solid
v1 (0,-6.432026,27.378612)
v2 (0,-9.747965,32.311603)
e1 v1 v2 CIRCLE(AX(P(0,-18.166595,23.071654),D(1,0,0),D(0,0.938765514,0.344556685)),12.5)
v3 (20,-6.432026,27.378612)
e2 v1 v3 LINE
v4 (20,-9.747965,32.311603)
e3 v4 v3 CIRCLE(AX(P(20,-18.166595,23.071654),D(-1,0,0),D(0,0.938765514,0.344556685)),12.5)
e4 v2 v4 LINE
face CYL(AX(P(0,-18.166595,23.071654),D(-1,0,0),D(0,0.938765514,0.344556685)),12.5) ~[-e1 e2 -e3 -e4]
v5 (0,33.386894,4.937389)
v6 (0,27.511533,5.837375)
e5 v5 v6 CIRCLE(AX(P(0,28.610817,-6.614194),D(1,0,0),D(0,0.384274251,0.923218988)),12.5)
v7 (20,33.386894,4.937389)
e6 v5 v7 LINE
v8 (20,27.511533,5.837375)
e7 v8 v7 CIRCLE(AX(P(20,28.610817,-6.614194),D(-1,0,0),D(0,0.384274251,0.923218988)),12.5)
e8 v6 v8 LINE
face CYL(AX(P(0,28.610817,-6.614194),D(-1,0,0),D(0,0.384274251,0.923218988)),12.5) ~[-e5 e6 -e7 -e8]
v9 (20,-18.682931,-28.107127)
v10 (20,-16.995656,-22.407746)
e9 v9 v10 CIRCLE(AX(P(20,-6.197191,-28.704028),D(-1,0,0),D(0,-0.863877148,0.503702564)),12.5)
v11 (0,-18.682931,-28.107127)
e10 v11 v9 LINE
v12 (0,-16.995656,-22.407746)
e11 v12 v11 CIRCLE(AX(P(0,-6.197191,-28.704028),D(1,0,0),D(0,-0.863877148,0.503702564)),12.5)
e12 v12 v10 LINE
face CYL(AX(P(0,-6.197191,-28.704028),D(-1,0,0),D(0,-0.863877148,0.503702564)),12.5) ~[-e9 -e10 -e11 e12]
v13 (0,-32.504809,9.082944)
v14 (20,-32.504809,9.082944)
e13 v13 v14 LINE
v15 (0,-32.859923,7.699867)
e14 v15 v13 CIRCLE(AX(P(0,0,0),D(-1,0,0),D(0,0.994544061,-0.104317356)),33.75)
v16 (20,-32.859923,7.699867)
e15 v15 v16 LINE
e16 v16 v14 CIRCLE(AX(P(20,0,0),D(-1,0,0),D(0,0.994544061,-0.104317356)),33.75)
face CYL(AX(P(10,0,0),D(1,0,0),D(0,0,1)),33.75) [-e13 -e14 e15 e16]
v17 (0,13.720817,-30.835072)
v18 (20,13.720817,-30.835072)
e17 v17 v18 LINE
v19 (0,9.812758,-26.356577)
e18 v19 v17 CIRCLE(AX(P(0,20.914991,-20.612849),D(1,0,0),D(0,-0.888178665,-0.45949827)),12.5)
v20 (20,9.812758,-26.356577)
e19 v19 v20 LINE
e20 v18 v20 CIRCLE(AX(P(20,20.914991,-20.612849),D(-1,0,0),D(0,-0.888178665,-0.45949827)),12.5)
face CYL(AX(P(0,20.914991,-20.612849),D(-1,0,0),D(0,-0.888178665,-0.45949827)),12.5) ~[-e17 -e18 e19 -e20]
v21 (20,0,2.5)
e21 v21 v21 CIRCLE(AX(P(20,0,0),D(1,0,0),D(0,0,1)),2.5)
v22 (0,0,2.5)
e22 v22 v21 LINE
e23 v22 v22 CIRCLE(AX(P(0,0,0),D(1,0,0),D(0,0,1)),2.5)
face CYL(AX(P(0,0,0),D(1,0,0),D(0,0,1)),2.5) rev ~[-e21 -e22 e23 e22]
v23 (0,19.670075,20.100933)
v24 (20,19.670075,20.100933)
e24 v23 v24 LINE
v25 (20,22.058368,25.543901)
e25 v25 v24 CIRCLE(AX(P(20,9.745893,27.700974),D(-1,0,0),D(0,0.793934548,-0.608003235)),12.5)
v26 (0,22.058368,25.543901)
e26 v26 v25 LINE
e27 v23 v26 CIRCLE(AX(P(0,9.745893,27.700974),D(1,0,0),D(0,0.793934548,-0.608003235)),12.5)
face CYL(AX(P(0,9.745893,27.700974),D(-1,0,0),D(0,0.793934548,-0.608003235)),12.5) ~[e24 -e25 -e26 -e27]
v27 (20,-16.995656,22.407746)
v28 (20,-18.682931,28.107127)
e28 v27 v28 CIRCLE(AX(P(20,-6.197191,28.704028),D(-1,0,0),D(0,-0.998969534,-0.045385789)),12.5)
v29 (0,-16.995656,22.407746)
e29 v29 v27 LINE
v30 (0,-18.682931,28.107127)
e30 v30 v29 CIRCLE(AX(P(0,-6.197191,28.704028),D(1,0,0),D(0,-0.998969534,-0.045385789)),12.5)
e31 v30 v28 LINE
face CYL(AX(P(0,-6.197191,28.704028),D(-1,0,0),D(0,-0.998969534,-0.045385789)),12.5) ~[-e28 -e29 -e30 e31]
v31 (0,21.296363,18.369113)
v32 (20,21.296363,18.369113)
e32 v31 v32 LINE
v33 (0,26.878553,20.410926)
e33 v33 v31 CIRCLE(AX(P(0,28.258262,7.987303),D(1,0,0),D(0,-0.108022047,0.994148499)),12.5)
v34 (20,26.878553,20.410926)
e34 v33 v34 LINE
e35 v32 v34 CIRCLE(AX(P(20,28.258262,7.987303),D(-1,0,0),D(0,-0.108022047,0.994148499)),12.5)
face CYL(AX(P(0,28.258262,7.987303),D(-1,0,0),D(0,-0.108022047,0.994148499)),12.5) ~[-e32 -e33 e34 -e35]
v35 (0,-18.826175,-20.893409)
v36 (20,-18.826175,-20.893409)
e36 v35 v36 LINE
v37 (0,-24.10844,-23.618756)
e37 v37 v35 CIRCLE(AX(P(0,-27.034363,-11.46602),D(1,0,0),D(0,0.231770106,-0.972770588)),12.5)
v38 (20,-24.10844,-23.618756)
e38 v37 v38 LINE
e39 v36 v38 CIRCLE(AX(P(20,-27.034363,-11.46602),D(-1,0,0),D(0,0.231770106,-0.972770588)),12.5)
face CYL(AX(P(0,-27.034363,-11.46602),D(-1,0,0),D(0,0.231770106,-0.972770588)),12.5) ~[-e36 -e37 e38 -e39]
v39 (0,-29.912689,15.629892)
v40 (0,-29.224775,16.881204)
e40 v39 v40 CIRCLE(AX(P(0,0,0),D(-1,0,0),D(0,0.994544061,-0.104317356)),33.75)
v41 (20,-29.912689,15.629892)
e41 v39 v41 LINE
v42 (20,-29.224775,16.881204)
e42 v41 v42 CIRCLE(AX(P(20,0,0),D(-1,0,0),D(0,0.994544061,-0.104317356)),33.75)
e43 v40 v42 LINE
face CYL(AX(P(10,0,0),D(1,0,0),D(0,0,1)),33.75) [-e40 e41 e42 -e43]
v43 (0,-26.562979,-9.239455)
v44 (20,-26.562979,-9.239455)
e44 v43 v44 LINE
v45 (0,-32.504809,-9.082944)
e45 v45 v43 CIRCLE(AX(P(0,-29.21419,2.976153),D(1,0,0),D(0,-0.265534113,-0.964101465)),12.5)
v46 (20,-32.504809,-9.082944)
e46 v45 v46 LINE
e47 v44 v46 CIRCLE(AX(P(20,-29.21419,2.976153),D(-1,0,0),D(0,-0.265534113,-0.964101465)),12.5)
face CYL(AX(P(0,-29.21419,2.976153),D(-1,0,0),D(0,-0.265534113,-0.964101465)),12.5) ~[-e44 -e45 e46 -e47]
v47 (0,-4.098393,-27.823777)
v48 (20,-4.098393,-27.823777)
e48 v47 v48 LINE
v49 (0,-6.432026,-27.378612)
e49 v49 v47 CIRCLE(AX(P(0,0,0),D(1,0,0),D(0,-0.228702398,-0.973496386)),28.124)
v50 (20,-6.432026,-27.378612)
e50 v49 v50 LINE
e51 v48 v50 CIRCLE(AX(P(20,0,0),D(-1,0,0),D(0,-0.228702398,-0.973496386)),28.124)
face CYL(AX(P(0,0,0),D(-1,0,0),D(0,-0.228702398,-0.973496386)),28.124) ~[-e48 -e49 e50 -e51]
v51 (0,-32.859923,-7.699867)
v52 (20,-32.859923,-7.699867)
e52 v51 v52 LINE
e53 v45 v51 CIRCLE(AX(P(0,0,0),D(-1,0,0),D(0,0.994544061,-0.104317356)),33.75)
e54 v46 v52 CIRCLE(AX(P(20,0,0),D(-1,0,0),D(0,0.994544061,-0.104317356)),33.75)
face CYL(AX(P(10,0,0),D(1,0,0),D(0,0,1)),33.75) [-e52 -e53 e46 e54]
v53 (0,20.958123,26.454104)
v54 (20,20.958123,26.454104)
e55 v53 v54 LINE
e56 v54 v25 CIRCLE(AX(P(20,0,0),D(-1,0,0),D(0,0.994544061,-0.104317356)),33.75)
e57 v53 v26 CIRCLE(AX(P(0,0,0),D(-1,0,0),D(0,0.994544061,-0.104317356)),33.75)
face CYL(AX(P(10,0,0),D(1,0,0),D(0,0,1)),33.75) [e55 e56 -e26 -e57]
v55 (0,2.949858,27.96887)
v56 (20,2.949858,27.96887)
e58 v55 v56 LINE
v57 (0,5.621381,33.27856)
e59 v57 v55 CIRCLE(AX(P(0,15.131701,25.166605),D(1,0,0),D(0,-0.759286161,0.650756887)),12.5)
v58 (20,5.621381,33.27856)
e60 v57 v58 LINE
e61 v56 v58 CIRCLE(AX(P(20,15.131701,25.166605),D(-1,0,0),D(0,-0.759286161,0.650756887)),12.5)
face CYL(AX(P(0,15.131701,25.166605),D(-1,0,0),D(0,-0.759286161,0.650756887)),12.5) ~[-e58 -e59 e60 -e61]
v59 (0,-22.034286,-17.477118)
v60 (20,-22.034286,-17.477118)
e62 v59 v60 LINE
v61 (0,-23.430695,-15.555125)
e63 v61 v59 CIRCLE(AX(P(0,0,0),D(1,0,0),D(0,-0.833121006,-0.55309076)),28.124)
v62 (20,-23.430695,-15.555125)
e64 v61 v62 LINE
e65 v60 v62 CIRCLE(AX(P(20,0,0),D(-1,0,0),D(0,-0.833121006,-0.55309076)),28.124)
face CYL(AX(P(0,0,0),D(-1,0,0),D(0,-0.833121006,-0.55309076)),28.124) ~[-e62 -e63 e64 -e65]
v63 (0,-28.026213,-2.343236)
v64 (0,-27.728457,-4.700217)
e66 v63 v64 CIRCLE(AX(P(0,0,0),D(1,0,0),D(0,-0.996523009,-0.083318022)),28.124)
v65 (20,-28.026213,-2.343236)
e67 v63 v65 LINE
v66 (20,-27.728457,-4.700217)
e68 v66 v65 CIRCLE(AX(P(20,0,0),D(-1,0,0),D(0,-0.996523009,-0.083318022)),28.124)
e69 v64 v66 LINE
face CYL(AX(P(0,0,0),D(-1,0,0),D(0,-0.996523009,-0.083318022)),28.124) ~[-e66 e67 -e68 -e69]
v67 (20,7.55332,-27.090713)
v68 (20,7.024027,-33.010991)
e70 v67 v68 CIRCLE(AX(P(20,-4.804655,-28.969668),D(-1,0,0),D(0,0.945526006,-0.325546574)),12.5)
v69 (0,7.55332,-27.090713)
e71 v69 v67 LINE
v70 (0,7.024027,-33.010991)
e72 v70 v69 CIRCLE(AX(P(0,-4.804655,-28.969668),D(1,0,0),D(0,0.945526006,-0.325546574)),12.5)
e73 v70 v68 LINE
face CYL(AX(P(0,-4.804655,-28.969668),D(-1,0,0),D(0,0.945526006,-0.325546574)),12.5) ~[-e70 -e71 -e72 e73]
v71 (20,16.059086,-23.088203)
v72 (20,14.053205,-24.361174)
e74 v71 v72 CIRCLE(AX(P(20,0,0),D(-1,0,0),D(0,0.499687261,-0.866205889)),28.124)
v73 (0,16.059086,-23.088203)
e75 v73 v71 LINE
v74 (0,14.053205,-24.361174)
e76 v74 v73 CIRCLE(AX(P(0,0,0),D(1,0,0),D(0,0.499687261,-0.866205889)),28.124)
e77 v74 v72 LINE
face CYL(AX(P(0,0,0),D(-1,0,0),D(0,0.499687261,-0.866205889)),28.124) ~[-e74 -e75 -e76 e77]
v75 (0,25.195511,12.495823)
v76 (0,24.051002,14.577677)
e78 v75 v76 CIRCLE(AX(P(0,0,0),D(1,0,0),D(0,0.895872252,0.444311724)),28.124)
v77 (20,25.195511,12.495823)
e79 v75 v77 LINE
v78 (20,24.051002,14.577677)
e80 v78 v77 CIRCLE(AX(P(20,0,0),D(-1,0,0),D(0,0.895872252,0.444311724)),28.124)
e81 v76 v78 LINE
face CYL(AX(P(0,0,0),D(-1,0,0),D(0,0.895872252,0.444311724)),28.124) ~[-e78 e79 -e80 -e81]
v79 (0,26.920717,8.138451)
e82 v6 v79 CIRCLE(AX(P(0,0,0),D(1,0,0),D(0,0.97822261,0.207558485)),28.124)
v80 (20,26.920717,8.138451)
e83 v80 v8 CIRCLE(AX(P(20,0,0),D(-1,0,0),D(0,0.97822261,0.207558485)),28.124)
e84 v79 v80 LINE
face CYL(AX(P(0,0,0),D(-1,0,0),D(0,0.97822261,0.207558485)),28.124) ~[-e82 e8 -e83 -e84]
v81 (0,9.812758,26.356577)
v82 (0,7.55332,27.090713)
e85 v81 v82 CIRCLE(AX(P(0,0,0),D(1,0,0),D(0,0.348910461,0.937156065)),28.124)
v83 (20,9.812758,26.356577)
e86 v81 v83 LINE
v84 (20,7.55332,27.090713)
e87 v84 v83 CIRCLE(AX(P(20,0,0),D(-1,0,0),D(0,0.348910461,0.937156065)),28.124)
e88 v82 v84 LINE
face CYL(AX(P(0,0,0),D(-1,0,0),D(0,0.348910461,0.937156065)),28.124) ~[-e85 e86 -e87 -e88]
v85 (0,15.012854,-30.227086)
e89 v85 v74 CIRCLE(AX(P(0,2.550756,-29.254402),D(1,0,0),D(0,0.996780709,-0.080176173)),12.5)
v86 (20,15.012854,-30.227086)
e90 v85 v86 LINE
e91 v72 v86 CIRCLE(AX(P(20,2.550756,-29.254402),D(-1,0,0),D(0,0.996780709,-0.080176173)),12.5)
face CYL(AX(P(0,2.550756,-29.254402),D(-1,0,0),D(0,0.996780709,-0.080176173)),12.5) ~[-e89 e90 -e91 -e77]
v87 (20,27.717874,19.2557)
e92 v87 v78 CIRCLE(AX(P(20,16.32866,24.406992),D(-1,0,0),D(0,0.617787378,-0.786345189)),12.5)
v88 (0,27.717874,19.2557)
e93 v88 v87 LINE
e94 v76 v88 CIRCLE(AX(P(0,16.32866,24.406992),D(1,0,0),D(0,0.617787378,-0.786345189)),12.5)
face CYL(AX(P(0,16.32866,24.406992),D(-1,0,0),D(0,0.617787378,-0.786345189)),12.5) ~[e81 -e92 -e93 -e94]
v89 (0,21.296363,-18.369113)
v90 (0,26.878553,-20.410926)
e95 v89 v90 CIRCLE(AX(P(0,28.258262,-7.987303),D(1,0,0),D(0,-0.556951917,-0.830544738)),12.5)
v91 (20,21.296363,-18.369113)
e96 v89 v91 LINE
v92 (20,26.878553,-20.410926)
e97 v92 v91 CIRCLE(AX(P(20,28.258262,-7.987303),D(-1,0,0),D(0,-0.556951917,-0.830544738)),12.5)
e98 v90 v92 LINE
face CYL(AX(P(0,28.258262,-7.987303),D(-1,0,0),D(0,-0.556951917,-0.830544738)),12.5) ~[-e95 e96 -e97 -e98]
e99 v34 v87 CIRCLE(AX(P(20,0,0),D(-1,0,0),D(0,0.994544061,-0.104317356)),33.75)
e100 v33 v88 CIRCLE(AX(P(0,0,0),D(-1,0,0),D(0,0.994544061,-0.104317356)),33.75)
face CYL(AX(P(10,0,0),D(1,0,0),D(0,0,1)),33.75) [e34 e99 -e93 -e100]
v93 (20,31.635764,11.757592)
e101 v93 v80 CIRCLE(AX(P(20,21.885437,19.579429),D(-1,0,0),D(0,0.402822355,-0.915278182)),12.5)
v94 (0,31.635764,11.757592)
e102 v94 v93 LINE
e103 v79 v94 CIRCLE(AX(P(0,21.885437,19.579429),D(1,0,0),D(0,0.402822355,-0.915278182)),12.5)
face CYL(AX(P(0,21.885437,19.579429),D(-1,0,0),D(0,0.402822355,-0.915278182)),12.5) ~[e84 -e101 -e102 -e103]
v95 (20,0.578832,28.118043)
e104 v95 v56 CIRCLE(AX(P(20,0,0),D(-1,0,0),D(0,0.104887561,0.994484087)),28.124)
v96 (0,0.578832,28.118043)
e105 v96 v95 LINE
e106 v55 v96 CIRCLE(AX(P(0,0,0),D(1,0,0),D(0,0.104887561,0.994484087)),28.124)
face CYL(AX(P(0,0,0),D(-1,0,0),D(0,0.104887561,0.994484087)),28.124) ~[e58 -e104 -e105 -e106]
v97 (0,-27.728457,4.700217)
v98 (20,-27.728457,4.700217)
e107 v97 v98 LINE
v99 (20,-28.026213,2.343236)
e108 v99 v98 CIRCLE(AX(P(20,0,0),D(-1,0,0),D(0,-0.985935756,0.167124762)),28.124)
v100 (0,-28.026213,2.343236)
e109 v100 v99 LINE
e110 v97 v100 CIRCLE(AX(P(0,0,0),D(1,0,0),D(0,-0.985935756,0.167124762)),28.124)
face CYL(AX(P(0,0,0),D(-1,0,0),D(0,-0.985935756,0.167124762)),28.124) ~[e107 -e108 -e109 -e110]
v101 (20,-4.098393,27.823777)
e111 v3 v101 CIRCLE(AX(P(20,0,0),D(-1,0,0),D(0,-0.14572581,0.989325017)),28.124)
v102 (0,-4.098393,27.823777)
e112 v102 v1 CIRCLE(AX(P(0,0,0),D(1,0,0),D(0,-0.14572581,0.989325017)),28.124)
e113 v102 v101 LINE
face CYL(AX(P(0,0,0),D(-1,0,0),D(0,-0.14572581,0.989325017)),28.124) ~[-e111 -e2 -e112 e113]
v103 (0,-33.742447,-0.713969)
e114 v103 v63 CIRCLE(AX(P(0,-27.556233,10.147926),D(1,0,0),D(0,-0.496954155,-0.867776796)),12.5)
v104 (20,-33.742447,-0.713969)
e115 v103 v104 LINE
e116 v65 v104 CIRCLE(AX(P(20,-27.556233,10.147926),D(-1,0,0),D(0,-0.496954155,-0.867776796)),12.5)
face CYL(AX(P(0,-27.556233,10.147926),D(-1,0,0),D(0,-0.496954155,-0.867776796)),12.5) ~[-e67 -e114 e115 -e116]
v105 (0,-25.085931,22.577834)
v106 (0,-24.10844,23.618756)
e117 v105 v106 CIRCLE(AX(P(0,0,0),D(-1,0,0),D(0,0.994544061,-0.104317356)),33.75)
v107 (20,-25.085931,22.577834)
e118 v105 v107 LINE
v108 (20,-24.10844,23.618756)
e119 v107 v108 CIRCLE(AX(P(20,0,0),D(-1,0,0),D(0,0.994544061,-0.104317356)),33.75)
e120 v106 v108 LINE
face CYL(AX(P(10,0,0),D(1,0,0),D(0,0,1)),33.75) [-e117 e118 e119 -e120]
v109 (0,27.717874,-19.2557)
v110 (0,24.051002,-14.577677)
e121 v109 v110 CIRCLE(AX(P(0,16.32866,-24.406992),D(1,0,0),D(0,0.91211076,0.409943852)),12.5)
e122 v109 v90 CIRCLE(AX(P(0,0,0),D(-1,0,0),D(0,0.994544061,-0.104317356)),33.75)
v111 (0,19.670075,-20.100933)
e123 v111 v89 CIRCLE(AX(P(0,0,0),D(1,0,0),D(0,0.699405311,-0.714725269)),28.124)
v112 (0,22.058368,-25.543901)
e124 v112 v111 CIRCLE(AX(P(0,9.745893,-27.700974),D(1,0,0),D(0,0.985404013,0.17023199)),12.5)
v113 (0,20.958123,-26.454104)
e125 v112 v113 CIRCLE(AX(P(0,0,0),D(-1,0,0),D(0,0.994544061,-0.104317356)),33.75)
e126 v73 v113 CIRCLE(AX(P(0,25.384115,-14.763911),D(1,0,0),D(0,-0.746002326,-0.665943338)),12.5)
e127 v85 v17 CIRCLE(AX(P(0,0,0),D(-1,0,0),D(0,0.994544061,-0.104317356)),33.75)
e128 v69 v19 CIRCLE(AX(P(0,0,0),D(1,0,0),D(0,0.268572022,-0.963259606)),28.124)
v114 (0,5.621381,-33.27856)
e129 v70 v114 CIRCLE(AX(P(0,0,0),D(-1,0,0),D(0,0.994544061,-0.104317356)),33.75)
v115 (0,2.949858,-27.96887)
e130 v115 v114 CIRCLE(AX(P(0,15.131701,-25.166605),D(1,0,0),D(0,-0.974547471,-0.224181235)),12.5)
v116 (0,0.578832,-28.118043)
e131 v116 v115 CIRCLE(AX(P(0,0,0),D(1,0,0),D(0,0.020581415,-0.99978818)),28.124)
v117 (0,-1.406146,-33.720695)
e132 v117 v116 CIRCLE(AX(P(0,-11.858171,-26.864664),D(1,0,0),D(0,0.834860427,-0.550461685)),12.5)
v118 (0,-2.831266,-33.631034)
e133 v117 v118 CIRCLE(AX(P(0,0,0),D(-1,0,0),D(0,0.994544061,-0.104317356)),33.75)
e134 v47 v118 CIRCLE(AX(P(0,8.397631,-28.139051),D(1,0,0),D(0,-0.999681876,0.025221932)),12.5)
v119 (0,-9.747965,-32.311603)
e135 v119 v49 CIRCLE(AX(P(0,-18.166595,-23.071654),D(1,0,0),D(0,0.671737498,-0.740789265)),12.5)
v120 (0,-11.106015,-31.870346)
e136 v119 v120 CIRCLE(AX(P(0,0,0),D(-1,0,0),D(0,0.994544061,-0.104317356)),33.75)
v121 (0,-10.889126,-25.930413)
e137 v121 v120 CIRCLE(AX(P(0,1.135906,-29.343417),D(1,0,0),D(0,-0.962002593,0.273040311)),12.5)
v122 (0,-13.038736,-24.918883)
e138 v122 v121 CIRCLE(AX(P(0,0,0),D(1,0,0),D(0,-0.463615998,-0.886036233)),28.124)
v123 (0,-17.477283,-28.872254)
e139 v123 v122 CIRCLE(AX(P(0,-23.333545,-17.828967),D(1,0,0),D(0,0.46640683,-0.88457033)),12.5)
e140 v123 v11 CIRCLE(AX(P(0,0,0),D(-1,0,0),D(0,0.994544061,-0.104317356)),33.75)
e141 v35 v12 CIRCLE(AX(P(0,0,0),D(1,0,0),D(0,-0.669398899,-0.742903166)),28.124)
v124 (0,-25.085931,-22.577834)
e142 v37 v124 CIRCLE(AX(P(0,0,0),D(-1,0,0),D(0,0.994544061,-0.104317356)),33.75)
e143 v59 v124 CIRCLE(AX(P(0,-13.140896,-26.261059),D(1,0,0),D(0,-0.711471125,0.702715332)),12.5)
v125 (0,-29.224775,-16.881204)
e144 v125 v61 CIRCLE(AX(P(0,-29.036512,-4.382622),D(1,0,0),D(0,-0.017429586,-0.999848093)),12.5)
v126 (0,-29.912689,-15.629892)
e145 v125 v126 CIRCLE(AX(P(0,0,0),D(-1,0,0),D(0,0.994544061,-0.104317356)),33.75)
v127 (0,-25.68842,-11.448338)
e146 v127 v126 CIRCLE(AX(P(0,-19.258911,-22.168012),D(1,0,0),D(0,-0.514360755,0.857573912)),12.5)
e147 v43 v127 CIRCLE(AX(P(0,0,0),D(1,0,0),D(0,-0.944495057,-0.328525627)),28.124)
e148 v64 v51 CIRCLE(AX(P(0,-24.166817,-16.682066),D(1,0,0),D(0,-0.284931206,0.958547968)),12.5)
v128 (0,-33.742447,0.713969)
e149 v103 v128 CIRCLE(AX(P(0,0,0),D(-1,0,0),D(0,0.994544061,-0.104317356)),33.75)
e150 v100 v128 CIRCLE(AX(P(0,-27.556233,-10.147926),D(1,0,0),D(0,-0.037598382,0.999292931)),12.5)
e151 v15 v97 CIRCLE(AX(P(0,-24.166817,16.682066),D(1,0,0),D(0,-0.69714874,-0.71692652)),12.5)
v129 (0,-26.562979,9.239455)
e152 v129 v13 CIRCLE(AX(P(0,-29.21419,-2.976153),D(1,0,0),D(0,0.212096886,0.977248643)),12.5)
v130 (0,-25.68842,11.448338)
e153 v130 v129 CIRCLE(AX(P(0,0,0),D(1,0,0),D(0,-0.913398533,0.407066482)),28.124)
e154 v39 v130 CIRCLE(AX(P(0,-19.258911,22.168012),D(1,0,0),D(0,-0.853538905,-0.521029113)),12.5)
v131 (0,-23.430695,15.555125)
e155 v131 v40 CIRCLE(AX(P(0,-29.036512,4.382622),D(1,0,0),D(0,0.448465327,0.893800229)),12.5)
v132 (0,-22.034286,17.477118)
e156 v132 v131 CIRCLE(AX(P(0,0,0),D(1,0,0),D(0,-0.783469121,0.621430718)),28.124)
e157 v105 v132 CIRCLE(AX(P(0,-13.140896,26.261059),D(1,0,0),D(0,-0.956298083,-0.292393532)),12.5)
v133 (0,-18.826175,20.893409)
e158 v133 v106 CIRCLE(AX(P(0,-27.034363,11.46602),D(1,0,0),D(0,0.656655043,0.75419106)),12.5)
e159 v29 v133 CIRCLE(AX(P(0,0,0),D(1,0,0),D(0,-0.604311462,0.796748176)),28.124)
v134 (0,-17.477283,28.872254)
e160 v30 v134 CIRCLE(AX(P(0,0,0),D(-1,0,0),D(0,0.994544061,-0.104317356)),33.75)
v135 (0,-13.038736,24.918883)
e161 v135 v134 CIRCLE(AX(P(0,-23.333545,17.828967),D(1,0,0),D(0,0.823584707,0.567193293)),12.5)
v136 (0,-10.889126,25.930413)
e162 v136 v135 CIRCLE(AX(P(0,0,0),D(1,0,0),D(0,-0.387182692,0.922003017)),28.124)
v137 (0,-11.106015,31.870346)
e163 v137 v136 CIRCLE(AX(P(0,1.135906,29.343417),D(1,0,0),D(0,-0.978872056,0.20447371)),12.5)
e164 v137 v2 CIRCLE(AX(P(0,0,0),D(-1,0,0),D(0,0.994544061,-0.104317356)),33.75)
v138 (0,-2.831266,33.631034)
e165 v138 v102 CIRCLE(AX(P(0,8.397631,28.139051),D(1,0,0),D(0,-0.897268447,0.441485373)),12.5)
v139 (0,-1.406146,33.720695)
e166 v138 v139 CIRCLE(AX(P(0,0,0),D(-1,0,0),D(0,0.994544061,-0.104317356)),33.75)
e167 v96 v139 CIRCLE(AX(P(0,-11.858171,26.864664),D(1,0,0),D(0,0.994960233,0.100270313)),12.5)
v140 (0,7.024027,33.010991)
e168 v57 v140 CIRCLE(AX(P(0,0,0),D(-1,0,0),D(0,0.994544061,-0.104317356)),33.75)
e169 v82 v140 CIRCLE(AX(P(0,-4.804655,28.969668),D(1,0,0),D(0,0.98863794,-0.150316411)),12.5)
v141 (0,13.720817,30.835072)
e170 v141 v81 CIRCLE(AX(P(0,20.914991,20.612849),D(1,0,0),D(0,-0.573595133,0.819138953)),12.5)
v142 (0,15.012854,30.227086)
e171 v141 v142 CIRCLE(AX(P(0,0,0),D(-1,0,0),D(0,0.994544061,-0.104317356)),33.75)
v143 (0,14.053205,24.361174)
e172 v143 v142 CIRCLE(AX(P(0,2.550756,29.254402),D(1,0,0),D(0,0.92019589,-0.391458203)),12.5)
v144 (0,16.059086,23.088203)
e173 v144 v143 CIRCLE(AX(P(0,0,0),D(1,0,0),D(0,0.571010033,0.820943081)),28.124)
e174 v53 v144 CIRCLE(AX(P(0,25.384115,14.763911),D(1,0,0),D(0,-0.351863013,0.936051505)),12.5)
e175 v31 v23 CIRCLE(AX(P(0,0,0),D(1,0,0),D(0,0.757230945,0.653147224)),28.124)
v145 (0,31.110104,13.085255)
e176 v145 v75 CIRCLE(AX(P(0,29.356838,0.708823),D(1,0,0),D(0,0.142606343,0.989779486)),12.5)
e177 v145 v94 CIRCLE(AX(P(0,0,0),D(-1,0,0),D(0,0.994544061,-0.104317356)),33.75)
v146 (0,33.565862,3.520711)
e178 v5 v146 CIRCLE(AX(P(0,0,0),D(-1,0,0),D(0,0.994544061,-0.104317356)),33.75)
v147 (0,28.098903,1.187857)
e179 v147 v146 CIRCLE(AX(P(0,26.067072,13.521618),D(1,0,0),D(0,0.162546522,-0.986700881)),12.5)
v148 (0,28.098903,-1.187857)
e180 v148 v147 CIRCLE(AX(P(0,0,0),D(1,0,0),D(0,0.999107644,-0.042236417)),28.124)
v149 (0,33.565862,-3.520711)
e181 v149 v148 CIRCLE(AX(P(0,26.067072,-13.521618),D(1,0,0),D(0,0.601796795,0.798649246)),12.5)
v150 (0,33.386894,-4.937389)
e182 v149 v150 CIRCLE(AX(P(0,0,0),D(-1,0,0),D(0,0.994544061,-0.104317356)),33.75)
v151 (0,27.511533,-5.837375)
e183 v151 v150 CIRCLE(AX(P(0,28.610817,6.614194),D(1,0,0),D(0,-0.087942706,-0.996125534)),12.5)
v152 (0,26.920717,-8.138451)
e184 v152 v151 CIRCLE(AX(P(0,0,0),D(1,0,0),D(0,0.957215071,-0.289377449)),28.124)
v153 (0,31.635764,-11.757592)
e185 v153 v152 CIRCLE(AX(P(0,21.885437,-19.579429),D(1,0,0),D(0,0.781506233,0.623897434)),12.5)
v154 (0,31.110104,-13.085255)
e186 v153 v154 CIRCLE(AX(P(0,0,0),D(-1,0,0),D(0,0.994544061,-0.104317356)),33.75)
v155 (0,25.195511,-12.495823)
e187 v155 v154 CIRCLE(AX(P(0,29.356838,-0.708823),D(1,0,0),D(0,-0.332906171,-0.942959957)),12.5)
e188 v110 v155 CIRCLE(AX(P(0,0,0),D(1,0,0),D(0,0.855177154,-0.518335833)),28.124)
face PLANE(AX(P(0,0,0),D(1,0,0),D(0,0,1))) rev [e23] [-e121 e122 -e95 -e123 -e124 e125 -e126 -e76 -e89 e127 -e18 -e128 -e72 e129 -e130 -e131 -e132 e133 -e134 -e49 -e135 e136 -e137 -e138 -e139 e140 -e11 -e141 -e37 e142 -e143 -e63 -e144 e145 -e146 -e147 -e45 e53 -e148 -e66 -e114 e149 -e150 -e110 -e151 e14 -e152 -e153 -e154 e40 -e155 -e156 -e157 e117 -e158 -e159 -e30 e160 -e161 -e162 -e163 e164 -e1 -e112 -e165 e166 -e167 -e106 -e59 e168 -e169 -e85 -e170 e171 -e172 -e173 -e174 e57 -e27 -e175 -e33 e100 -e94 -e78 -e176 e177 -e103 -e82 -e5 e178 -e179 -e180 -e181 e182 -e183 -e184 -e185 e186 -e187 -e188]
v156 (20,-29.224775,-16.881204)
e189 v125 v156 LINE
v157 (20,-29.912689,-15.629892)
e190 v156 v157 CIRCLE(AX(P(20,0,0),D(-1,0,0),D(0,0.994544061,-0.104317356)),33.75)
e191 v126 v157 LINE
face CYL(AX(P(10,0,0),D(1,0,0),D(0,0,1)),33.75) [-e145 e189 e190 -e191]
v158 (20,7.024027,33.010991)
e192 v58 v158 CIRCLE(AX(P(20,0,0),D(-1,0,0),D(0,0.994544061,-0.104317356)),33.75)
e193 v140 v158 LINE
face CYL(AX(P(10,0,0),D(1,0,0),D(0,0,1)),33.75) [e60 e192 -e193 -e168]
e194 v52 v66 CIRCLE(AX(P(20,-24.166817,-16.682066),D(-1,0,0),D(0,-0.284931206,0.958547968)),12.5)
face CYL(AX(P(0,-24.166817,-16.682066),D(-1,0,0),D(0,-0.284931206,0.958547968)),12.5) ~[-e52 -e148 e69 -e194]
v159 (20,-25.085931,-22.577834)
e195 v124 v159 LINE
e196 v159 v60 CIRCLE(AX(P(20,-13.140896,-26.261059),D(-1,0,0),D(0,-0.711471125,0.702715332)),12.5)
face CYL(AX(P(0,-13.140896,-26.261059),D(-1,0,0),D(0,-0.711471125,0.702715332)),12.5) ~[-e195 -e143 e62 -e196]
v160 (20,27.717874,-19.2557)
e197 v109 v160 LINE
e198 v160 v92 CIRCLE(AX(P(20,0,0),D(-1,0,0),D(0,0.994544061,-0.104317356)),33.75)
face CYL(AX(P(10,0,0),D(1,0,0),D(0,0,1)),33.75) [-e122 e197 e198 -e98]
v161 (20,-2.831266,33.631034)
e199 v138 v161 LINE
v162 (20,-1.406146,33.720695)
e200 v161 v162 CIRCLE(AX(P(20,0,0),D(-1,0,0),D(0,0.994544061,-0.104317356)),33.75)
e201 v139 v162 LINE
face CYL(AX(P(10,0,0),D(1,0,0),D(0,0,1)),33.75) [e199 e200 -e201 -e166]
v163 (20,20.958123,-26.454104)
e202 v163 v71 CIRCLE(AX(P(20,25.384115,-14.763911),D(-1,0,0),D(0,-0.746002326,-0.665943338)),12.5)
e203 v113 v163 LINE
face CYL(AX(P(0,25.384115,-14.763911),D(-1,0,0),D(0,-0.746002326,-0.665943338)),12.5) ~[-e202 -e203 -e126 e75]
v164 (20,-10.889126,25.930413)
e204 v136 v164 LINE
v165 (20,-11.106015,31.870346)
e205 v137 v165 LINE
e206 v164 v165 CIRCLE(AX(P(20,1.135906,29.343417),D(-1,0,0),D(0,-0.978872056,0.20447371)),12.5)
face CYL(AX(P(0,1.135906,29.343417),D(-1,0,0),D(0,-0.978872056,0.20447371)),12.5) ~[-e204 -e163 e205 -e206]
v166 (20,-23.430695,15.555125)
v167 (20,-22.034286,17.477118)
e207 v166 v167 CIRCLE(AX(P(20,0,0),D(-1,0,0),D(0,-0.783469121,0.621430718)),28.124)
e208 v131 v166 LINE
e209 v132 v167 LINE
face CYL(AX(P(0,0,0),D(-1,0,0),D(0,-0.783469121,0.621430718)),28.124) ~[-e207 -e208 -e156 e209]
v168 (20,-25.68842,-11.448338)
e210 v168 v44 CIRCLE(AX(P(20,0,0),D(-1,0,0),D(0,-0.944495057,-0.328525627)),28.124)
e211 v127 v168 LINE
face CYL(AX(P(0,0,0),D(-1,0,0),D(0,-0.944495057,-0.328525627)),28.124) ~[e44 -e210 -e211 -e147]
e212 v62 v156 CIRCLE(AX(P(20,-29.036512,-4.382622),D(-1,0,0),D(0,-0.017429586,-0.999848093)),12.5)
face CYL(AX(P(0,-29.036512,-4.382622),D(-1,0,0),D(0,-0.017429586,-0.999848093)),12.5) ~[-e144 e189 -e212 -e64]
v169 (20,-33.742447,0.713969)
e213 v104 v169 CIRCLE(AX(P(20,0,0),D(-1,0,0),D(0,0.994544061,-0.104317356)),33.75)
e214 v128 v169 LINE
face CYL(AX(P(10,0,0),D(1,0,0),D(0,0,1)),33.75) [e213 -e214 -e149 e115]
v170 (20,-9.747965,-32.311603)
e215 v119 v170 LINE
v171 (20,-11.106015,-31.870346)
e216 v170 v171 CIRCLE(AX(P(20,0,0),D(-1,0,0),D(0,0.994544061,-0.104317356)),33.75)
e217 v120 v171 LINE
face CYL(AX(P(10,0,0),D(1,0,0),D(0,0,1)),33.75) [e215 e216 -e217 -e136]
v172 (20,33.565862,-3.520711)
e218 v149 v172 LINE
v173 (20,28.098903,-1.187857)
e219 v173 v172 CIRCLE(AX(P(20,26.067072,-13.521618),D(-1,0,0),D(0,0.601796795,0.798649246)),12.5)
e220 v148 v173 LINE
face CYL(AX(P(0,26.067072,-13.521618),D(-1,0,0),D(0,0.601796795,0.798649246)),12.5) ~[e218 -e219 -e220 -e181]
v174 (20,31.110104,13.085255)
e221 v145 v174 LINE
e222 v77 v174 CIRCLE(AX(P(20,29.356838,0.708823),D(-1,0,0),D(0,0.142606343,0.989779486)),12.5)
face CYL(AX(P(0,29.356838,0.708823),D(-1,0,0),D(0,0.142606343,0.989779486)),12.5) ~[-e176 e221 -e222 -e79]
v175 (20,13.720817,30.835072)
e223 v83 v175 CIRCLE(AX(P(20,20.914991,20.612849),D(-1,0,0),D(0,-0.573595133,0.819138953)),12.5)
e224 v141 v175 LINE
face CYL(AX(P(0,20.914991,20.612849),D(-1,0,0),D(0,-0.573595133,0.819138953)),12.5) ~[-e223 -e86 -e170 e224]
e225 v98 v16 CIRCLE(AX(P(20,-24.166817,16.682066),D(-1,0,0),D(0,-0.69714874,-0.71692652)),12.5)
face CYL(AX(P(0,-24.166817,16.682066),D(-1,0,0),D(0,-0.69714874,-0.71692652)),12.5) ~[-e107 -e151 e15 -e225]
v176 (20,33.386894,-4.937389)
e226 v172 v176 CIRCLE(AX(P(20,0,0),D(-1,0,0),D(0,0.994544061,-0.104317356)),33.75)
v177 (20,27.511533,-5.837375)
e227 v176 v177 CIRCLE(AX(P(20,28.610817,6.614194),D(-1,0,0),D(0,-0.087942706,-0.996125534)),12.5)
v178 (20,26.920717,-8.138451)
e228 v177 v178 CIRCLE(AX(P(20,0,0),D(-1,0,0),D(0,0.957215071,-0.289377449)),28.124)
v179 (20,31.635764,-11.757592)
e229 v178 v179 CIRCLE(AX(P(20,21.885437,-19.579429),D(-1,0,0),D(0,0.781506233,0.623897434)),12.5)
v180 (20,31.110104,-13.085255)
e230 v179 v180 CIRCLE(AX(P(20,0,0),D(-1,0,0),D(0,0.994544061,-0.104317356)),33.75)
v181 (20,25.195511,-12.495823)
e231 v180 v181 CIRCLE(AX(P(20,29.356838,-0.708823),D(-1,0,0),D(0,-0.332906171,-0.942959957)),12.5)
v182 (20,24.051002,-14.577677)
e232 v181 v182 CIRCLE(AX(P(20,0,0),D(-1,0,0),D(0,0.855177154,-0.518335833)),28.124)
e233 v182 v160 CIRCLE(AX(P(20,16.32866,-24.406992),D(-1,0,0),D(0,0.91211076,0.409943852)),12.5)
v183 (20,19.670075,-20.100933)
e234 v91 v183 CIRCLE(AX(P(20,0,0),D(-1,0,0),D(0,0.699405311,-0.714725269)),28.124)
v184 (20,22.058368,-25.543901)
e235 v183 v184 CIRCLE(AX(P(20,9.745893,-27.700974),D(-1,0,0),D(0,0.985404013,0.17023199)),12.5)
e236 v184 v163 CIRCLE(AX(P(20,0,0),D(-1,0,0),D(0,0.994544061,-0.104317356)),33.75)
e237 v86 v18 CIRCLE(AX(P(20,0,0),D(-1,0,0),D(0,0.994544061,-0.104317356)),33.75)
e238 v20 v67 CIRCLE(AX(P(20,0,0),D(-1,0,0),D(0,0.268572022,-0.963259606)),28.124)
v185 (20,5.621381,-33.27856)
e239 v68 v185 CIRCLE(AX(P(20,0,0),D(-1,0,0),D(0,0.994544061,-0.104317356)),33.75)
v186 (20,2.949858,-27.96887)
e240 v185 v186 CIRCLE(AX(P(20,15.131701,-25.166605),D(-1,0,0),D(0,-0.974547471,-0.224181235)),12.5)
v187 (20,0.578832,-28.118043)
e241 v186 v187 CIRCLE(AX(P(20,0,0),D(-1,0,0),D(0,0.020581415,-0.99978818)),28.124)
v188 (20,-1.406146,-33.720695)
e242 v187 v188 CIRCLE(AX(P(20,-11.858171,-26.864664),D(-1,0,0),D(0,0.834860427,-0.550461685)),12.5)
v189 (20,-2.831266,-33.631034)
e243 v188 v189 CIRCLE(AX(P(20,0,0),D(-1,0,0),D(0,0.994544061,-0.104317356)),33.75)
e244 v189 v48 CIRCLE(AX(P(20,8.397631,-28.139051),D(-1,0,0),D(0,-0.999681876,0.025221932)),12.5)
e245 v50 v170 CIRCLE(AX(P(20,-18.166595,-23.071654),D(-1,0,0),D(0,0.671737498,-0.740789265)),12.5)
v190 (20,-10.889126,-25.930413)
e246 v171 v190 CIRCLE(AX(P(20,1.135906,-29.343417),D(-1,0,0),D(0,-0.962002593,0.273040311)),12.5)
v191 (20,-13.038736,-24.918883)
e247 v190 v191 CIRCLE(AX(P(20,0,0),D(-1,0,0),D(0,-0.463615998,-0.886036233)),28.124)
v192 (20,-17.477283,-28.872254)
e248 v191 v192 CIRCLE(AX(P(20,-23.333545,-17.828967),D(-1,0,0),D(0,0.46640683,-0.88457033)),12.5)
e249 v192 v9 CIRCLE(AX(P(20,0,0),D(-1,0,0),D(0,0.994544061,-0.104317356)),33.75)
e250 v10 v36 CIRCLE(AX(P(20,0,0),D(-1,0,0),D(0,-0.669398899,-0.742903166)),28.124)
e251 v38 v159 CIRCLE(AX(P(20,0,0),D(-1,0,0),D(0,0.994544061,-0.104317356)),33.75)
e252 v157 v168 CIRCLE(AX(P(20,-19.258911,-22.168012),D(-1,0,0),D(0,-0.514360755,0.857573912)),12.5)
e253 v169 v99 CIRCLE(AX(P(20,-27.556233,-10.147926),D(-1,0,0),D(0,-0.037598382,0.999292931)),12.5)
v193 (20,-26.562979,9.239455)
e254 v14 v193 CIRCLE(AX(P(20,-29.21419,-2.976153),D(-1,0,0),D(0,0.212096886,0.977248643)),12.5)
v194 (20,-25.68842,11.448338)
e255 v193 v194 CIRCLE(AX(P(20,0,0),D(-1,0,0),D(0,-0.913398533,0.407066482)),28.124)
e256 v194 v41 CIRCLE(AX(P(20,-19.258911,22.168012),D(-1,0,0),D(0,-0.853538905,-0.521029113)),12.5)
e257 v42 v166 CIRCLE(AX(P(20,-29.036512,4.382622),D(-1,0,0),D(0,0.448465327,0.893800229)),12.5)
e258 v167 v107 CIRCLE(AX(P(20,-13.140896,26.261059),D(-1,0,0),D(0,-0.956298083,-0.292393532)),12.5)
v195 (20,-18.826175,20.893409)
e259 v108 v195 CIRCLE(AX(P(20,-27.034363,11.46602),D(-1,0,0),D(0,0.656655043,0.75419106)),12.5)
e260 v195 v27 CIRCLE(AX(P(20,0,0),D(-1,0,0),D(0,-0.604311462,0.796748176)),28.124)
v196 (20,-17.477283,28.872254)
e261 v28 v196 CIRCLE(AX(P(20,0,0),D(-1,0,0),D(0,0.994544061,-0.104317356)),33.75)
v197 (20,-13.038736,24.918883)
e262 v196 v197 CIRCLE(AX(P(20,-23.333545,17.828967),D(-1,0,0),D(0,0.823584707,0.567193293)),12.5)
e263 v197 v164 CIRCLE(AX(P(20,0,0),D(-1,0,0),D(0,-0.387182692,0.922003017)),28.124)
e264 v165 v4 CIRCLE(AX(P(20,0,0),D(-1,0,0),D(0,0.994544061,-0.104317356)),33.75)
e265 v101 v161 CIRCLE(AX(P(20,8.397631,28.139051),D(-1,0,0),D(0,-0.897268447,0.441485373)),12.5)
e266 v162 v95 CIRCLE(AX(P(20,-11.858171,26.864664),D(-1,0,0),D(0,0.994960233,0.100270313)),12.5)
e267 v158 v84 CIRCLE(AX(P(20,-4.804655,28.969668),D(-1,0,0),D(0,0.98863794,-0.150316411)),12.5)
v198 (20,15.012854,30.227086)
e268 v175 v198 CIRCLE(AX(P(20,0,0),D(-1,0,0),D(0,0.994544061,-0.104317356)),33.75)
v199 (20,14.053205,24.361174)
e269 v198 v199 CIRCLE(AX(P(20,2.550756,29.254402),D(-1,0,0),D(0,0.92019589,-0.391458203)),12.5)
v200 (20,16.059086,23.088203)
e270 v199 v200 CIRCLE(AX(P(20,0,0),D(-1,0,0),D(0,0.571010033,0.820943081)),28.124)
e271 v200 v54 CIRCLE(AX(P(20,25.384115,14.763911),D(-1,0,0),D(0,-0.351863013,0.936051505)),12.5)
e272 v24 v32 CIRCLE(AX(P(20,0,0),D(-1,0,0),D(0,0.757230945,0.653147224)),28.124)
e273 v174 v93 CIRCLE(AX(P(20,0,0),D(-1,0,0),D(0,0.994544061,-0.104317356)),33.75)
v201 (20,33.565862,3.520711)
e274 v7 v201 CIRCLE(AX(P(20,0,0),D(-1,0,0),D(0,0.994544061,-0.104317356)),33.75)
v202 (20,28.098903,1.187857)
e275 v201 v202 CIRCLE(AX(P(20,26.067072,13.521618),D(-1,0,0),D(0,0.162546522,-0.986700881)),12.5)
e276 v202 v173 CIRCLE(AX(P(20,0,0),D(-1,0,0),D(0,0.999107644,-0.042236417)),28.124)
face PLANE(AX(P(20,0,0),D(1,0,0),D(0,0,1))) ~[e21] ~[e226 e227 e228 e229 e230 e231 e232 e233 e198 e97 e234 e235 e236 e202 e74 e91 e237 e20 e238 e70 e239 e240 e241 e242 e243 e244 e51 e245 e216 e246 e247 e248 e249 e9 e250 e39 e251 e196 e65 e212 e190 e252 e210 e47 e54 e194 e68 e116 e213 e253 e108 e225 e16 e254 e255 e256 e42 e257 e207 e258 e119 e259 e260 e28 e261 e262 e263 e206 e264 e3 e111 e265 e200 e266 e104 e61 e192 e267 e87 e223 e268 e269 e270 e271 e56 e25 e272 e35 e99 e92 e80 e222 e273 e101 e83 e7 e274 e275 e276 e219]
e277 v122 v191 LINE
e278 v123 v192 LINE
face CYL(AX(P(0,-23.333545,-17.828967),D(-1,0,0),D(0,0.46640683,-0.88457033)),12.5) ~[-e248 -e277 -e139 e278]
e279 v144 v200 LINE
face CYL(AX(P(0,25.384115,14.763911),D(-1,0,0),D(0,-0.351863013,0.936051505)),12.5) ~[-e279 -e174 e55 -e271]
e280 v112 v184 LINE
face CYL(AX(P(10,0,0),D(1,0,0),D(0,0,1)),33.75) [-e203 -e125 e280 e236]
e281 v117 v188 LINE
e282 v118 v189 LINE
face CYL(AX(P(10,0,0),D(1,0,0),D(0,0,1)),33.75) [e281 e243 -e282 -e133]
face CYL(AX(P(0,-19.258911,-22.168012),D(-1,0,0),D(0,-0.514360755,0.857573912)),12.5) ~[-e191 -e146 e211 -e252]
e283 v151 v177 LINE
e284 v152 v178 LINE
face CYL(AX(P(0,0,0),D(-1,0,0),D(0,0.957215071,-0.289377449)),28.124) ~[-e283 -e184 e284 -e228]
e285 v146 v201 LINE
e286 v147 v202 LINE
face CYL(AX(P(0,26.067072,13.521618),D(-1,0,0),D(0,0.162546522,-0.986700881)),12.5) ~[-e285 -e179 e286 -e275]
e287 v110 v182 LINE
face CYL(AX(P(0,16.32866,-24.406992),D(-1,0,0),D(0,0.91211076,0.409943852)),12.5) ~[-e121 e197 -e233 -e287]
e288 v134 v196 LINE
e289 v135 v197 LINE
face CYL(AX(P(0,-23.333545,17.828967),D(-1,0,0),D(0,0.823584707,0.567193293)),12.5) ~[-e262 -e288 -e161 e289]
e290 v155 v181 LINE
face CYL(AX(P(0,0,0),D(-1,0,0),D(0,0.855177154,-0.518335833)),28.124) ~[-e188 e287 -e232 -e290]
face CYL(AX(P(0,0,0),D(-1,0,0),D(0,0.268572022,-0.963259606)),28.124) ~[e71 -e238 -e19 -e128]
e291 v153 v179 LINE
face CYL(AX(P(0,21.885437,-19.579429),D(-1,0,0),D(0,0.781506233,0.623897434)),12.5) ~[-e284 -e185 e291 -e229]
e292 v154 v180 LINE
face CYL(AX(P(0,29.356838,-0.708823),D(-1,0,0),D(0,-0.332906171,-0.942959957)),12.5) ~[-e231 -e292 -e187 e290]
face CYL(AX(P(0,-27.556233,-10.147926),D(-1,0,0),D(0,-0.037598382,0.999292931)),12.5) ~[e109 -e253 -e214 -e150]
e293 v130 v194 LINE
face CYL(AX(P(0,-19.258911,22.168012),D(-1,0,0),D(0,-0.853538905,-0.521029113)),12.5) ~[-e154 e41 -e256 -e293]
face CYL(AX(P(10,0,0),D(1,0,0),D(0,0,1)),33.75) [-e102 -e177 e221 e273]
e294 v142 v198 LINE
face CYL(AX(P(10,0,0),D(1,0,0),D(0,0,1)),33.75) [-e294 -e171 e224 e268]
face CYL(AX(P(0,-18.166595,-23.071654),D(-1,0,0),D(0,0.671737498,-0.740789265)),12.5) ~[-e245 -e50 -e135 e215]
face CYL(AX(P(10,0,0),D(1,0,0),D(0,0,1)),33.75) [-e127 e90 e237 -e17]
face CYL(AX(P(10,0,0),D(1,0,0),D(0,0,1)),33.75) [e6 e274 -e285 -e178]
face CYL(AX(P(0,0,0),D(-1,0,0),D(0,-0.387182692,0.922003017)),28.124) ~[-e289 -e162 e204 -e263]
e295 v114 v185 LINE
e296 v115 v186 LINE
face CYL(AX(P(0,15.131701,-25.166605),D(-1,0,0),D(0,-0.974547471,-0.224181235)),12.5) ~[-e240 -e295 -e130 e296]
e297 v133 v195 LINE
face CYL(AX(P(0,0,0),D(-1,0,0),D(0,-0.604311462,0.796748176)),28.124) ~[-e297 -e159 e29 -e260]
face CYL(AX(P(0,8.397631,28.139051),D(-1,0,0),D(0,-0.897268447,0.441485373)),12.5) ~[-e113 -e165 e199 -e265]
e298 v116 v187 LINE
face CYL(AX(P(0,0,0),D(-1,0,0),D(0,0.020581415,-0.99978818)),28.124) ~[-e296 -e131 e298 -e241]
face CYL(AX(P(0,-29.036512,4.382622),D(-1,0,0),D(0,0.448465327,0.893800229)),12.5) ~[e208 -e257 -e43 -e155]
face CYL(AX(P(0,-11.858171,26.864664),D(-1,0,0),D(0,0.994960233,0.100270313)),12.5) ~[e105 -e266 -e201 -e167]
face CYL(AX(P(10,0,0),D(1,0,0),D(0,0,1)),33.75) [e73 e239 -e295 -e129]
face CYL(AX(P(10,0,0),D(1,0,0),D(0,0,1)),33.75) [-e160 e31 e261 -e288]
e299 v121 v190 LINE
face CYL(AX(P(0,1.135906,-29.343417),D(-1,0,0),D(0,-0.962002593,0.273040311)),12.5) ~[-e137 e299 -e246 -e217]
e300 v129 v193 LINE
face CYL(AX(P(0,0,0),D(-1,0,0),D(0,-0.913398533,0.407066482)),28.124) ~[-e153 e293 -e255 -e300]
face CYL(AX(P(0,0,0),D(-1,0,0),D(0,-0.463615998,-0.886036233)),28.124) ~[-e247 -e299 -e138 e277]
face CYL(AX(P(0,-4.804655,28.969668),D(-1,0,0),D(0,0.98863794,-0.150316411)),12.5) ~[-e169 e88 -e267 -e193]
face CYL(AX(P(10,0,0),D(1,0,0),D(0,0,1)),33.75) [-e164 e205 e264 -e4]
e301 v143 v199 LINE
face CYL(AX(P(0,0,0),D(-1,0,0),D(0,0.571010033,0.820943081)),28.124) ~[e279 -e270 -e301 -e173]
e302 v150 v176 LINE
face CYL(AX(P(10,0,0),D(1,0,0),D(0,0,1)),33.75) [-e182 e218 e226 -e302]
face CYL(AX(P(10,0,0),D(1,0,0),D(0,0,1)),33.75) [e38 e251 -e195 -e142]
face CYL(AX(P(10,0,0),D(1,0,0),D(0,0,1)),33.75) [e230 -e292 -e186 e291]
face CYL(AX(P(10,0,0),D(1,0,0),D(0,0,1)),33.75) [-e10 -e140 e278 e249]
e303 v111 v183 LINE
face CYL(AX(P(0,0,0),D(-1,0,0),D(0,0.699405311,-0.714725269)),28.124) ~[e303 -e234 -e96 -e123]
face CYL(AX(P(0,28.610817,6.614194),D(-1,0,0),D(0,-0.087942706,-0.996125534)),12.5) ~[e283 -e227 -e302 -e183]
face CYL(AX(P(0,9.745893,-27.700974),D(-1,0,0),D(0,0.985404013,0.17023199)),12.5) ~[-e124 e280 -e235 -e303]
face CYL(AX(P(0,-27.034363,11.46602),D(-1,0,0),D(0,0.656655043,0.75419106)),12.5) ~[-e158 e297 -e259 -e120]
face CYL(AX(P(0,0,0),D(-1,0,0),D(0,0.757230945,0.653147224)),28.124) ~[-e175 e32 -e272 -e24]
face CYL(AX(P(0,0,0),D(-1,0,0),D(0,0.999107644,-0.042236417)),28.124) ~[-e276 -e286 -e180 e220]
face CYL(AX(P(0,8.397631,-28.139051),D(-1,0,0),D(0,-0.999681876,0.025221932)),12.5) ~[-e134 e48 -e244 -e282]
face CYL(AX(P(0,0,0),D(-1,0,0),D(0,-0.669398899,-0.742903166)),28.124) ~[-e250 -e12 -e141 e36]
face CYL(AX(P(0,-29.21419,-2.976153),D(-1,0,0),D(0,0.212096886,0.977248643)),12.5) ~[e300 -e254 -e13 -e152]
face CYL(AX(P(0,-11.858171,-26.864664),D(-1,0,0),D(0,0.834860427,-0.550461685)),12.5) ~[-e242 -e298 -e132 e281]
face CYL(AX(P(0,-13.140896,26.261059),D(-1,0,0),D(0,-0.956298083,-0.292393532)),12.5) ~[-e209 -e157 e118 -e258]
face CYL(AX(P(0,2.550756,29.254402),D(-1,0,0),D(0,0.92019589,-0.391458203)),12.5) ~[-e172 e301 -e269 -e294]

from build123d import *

# Parameters (mm, degrees)
BASPROSKE_W     = 20
BASPROSKE_H     = 33.75
TOOTHCUT_DEPTH  = 52.750603861
TEETHCUTS_COUNT = 25
TEETHCUTS_ANGLE = 345.6
BORSKE_R        = 2.5
BORE_DEPTH      = 50.0000508


with BuildPart() as part:
    # BasProSke → Base-Revolve (revolve)
    with BuildSketch(Plane(origin=(0, 0, 0), x_dir=(1, 0, 0), z_dir=(0, 1, 0)), mode=Mode.PRIVATE) as base_revolve_sk:
        with Locations((10, 16.875)):
            Rectangle(BASPROSKE_W, BASPROSKE_H)
    revolve(base_revolve_sk.sketch.rotate(Axis((-10, 0, 0), (1, 0, 0)), 180), axis=Axis((-10, 0, 0), (1, 0, 0)))

    # TooCutSke → ToothCut (cut, through all)
    with BuildSketch(Plane(origin=(0, 0, 0), x_dir=(0, 0, -1), z_dir=(1, 0, 0))):
        with BuildLine():
            ThreePointArc((1.187856988, 28.098903391), (0, 28.124), (-1.187856988, 28.098903391))
            ThreePointArc((-1.187856988, 28.098903391), (-2.030425927, 30.986675992), (-3.538502421, 33.589531789))
            ThreePointArc((-3.538502421, 33.589531789), (0, 33.7754), (3.538502421, 33.589531789))
            ThreePointArc((3.538502421, 33.589531789), (2.030425927, 30.986675992), (1.187856988, 28.098903391))
        make_face()
    toothcut = extrude(amount=TOOTHCUT_DEPTH, mode=Mode.SUBTRACT)

    # TeethCuts: ToothCut ×25 about axis
    teethcuts_axis = Axis((-10, 0, 0), (1, 0, 0))
    for i in range(1, TEETHCUTS_COUNT):
        add(toothcut.rotate(teethcuts_axis, i * TEETHCUTS_ANGLE / (TEETHCUTS_COUNT - 1)), mode=Mode.SUBTRACT)

    # BorSke → Bore (cut, symmetric)
    with BuildSketch(Plane(origin=(0, 0, 0), x_dir=(0, 0, -1), z_dir=(1, 0, 0))):
        with Locations(Location((0, 0, 0), (0, 0, 180))):
            Circle(BORSKE_R)
    extrude(amount=BORE_DEPTH, both=True, mode=Mode.SUBTRACT)


solid = part.part
